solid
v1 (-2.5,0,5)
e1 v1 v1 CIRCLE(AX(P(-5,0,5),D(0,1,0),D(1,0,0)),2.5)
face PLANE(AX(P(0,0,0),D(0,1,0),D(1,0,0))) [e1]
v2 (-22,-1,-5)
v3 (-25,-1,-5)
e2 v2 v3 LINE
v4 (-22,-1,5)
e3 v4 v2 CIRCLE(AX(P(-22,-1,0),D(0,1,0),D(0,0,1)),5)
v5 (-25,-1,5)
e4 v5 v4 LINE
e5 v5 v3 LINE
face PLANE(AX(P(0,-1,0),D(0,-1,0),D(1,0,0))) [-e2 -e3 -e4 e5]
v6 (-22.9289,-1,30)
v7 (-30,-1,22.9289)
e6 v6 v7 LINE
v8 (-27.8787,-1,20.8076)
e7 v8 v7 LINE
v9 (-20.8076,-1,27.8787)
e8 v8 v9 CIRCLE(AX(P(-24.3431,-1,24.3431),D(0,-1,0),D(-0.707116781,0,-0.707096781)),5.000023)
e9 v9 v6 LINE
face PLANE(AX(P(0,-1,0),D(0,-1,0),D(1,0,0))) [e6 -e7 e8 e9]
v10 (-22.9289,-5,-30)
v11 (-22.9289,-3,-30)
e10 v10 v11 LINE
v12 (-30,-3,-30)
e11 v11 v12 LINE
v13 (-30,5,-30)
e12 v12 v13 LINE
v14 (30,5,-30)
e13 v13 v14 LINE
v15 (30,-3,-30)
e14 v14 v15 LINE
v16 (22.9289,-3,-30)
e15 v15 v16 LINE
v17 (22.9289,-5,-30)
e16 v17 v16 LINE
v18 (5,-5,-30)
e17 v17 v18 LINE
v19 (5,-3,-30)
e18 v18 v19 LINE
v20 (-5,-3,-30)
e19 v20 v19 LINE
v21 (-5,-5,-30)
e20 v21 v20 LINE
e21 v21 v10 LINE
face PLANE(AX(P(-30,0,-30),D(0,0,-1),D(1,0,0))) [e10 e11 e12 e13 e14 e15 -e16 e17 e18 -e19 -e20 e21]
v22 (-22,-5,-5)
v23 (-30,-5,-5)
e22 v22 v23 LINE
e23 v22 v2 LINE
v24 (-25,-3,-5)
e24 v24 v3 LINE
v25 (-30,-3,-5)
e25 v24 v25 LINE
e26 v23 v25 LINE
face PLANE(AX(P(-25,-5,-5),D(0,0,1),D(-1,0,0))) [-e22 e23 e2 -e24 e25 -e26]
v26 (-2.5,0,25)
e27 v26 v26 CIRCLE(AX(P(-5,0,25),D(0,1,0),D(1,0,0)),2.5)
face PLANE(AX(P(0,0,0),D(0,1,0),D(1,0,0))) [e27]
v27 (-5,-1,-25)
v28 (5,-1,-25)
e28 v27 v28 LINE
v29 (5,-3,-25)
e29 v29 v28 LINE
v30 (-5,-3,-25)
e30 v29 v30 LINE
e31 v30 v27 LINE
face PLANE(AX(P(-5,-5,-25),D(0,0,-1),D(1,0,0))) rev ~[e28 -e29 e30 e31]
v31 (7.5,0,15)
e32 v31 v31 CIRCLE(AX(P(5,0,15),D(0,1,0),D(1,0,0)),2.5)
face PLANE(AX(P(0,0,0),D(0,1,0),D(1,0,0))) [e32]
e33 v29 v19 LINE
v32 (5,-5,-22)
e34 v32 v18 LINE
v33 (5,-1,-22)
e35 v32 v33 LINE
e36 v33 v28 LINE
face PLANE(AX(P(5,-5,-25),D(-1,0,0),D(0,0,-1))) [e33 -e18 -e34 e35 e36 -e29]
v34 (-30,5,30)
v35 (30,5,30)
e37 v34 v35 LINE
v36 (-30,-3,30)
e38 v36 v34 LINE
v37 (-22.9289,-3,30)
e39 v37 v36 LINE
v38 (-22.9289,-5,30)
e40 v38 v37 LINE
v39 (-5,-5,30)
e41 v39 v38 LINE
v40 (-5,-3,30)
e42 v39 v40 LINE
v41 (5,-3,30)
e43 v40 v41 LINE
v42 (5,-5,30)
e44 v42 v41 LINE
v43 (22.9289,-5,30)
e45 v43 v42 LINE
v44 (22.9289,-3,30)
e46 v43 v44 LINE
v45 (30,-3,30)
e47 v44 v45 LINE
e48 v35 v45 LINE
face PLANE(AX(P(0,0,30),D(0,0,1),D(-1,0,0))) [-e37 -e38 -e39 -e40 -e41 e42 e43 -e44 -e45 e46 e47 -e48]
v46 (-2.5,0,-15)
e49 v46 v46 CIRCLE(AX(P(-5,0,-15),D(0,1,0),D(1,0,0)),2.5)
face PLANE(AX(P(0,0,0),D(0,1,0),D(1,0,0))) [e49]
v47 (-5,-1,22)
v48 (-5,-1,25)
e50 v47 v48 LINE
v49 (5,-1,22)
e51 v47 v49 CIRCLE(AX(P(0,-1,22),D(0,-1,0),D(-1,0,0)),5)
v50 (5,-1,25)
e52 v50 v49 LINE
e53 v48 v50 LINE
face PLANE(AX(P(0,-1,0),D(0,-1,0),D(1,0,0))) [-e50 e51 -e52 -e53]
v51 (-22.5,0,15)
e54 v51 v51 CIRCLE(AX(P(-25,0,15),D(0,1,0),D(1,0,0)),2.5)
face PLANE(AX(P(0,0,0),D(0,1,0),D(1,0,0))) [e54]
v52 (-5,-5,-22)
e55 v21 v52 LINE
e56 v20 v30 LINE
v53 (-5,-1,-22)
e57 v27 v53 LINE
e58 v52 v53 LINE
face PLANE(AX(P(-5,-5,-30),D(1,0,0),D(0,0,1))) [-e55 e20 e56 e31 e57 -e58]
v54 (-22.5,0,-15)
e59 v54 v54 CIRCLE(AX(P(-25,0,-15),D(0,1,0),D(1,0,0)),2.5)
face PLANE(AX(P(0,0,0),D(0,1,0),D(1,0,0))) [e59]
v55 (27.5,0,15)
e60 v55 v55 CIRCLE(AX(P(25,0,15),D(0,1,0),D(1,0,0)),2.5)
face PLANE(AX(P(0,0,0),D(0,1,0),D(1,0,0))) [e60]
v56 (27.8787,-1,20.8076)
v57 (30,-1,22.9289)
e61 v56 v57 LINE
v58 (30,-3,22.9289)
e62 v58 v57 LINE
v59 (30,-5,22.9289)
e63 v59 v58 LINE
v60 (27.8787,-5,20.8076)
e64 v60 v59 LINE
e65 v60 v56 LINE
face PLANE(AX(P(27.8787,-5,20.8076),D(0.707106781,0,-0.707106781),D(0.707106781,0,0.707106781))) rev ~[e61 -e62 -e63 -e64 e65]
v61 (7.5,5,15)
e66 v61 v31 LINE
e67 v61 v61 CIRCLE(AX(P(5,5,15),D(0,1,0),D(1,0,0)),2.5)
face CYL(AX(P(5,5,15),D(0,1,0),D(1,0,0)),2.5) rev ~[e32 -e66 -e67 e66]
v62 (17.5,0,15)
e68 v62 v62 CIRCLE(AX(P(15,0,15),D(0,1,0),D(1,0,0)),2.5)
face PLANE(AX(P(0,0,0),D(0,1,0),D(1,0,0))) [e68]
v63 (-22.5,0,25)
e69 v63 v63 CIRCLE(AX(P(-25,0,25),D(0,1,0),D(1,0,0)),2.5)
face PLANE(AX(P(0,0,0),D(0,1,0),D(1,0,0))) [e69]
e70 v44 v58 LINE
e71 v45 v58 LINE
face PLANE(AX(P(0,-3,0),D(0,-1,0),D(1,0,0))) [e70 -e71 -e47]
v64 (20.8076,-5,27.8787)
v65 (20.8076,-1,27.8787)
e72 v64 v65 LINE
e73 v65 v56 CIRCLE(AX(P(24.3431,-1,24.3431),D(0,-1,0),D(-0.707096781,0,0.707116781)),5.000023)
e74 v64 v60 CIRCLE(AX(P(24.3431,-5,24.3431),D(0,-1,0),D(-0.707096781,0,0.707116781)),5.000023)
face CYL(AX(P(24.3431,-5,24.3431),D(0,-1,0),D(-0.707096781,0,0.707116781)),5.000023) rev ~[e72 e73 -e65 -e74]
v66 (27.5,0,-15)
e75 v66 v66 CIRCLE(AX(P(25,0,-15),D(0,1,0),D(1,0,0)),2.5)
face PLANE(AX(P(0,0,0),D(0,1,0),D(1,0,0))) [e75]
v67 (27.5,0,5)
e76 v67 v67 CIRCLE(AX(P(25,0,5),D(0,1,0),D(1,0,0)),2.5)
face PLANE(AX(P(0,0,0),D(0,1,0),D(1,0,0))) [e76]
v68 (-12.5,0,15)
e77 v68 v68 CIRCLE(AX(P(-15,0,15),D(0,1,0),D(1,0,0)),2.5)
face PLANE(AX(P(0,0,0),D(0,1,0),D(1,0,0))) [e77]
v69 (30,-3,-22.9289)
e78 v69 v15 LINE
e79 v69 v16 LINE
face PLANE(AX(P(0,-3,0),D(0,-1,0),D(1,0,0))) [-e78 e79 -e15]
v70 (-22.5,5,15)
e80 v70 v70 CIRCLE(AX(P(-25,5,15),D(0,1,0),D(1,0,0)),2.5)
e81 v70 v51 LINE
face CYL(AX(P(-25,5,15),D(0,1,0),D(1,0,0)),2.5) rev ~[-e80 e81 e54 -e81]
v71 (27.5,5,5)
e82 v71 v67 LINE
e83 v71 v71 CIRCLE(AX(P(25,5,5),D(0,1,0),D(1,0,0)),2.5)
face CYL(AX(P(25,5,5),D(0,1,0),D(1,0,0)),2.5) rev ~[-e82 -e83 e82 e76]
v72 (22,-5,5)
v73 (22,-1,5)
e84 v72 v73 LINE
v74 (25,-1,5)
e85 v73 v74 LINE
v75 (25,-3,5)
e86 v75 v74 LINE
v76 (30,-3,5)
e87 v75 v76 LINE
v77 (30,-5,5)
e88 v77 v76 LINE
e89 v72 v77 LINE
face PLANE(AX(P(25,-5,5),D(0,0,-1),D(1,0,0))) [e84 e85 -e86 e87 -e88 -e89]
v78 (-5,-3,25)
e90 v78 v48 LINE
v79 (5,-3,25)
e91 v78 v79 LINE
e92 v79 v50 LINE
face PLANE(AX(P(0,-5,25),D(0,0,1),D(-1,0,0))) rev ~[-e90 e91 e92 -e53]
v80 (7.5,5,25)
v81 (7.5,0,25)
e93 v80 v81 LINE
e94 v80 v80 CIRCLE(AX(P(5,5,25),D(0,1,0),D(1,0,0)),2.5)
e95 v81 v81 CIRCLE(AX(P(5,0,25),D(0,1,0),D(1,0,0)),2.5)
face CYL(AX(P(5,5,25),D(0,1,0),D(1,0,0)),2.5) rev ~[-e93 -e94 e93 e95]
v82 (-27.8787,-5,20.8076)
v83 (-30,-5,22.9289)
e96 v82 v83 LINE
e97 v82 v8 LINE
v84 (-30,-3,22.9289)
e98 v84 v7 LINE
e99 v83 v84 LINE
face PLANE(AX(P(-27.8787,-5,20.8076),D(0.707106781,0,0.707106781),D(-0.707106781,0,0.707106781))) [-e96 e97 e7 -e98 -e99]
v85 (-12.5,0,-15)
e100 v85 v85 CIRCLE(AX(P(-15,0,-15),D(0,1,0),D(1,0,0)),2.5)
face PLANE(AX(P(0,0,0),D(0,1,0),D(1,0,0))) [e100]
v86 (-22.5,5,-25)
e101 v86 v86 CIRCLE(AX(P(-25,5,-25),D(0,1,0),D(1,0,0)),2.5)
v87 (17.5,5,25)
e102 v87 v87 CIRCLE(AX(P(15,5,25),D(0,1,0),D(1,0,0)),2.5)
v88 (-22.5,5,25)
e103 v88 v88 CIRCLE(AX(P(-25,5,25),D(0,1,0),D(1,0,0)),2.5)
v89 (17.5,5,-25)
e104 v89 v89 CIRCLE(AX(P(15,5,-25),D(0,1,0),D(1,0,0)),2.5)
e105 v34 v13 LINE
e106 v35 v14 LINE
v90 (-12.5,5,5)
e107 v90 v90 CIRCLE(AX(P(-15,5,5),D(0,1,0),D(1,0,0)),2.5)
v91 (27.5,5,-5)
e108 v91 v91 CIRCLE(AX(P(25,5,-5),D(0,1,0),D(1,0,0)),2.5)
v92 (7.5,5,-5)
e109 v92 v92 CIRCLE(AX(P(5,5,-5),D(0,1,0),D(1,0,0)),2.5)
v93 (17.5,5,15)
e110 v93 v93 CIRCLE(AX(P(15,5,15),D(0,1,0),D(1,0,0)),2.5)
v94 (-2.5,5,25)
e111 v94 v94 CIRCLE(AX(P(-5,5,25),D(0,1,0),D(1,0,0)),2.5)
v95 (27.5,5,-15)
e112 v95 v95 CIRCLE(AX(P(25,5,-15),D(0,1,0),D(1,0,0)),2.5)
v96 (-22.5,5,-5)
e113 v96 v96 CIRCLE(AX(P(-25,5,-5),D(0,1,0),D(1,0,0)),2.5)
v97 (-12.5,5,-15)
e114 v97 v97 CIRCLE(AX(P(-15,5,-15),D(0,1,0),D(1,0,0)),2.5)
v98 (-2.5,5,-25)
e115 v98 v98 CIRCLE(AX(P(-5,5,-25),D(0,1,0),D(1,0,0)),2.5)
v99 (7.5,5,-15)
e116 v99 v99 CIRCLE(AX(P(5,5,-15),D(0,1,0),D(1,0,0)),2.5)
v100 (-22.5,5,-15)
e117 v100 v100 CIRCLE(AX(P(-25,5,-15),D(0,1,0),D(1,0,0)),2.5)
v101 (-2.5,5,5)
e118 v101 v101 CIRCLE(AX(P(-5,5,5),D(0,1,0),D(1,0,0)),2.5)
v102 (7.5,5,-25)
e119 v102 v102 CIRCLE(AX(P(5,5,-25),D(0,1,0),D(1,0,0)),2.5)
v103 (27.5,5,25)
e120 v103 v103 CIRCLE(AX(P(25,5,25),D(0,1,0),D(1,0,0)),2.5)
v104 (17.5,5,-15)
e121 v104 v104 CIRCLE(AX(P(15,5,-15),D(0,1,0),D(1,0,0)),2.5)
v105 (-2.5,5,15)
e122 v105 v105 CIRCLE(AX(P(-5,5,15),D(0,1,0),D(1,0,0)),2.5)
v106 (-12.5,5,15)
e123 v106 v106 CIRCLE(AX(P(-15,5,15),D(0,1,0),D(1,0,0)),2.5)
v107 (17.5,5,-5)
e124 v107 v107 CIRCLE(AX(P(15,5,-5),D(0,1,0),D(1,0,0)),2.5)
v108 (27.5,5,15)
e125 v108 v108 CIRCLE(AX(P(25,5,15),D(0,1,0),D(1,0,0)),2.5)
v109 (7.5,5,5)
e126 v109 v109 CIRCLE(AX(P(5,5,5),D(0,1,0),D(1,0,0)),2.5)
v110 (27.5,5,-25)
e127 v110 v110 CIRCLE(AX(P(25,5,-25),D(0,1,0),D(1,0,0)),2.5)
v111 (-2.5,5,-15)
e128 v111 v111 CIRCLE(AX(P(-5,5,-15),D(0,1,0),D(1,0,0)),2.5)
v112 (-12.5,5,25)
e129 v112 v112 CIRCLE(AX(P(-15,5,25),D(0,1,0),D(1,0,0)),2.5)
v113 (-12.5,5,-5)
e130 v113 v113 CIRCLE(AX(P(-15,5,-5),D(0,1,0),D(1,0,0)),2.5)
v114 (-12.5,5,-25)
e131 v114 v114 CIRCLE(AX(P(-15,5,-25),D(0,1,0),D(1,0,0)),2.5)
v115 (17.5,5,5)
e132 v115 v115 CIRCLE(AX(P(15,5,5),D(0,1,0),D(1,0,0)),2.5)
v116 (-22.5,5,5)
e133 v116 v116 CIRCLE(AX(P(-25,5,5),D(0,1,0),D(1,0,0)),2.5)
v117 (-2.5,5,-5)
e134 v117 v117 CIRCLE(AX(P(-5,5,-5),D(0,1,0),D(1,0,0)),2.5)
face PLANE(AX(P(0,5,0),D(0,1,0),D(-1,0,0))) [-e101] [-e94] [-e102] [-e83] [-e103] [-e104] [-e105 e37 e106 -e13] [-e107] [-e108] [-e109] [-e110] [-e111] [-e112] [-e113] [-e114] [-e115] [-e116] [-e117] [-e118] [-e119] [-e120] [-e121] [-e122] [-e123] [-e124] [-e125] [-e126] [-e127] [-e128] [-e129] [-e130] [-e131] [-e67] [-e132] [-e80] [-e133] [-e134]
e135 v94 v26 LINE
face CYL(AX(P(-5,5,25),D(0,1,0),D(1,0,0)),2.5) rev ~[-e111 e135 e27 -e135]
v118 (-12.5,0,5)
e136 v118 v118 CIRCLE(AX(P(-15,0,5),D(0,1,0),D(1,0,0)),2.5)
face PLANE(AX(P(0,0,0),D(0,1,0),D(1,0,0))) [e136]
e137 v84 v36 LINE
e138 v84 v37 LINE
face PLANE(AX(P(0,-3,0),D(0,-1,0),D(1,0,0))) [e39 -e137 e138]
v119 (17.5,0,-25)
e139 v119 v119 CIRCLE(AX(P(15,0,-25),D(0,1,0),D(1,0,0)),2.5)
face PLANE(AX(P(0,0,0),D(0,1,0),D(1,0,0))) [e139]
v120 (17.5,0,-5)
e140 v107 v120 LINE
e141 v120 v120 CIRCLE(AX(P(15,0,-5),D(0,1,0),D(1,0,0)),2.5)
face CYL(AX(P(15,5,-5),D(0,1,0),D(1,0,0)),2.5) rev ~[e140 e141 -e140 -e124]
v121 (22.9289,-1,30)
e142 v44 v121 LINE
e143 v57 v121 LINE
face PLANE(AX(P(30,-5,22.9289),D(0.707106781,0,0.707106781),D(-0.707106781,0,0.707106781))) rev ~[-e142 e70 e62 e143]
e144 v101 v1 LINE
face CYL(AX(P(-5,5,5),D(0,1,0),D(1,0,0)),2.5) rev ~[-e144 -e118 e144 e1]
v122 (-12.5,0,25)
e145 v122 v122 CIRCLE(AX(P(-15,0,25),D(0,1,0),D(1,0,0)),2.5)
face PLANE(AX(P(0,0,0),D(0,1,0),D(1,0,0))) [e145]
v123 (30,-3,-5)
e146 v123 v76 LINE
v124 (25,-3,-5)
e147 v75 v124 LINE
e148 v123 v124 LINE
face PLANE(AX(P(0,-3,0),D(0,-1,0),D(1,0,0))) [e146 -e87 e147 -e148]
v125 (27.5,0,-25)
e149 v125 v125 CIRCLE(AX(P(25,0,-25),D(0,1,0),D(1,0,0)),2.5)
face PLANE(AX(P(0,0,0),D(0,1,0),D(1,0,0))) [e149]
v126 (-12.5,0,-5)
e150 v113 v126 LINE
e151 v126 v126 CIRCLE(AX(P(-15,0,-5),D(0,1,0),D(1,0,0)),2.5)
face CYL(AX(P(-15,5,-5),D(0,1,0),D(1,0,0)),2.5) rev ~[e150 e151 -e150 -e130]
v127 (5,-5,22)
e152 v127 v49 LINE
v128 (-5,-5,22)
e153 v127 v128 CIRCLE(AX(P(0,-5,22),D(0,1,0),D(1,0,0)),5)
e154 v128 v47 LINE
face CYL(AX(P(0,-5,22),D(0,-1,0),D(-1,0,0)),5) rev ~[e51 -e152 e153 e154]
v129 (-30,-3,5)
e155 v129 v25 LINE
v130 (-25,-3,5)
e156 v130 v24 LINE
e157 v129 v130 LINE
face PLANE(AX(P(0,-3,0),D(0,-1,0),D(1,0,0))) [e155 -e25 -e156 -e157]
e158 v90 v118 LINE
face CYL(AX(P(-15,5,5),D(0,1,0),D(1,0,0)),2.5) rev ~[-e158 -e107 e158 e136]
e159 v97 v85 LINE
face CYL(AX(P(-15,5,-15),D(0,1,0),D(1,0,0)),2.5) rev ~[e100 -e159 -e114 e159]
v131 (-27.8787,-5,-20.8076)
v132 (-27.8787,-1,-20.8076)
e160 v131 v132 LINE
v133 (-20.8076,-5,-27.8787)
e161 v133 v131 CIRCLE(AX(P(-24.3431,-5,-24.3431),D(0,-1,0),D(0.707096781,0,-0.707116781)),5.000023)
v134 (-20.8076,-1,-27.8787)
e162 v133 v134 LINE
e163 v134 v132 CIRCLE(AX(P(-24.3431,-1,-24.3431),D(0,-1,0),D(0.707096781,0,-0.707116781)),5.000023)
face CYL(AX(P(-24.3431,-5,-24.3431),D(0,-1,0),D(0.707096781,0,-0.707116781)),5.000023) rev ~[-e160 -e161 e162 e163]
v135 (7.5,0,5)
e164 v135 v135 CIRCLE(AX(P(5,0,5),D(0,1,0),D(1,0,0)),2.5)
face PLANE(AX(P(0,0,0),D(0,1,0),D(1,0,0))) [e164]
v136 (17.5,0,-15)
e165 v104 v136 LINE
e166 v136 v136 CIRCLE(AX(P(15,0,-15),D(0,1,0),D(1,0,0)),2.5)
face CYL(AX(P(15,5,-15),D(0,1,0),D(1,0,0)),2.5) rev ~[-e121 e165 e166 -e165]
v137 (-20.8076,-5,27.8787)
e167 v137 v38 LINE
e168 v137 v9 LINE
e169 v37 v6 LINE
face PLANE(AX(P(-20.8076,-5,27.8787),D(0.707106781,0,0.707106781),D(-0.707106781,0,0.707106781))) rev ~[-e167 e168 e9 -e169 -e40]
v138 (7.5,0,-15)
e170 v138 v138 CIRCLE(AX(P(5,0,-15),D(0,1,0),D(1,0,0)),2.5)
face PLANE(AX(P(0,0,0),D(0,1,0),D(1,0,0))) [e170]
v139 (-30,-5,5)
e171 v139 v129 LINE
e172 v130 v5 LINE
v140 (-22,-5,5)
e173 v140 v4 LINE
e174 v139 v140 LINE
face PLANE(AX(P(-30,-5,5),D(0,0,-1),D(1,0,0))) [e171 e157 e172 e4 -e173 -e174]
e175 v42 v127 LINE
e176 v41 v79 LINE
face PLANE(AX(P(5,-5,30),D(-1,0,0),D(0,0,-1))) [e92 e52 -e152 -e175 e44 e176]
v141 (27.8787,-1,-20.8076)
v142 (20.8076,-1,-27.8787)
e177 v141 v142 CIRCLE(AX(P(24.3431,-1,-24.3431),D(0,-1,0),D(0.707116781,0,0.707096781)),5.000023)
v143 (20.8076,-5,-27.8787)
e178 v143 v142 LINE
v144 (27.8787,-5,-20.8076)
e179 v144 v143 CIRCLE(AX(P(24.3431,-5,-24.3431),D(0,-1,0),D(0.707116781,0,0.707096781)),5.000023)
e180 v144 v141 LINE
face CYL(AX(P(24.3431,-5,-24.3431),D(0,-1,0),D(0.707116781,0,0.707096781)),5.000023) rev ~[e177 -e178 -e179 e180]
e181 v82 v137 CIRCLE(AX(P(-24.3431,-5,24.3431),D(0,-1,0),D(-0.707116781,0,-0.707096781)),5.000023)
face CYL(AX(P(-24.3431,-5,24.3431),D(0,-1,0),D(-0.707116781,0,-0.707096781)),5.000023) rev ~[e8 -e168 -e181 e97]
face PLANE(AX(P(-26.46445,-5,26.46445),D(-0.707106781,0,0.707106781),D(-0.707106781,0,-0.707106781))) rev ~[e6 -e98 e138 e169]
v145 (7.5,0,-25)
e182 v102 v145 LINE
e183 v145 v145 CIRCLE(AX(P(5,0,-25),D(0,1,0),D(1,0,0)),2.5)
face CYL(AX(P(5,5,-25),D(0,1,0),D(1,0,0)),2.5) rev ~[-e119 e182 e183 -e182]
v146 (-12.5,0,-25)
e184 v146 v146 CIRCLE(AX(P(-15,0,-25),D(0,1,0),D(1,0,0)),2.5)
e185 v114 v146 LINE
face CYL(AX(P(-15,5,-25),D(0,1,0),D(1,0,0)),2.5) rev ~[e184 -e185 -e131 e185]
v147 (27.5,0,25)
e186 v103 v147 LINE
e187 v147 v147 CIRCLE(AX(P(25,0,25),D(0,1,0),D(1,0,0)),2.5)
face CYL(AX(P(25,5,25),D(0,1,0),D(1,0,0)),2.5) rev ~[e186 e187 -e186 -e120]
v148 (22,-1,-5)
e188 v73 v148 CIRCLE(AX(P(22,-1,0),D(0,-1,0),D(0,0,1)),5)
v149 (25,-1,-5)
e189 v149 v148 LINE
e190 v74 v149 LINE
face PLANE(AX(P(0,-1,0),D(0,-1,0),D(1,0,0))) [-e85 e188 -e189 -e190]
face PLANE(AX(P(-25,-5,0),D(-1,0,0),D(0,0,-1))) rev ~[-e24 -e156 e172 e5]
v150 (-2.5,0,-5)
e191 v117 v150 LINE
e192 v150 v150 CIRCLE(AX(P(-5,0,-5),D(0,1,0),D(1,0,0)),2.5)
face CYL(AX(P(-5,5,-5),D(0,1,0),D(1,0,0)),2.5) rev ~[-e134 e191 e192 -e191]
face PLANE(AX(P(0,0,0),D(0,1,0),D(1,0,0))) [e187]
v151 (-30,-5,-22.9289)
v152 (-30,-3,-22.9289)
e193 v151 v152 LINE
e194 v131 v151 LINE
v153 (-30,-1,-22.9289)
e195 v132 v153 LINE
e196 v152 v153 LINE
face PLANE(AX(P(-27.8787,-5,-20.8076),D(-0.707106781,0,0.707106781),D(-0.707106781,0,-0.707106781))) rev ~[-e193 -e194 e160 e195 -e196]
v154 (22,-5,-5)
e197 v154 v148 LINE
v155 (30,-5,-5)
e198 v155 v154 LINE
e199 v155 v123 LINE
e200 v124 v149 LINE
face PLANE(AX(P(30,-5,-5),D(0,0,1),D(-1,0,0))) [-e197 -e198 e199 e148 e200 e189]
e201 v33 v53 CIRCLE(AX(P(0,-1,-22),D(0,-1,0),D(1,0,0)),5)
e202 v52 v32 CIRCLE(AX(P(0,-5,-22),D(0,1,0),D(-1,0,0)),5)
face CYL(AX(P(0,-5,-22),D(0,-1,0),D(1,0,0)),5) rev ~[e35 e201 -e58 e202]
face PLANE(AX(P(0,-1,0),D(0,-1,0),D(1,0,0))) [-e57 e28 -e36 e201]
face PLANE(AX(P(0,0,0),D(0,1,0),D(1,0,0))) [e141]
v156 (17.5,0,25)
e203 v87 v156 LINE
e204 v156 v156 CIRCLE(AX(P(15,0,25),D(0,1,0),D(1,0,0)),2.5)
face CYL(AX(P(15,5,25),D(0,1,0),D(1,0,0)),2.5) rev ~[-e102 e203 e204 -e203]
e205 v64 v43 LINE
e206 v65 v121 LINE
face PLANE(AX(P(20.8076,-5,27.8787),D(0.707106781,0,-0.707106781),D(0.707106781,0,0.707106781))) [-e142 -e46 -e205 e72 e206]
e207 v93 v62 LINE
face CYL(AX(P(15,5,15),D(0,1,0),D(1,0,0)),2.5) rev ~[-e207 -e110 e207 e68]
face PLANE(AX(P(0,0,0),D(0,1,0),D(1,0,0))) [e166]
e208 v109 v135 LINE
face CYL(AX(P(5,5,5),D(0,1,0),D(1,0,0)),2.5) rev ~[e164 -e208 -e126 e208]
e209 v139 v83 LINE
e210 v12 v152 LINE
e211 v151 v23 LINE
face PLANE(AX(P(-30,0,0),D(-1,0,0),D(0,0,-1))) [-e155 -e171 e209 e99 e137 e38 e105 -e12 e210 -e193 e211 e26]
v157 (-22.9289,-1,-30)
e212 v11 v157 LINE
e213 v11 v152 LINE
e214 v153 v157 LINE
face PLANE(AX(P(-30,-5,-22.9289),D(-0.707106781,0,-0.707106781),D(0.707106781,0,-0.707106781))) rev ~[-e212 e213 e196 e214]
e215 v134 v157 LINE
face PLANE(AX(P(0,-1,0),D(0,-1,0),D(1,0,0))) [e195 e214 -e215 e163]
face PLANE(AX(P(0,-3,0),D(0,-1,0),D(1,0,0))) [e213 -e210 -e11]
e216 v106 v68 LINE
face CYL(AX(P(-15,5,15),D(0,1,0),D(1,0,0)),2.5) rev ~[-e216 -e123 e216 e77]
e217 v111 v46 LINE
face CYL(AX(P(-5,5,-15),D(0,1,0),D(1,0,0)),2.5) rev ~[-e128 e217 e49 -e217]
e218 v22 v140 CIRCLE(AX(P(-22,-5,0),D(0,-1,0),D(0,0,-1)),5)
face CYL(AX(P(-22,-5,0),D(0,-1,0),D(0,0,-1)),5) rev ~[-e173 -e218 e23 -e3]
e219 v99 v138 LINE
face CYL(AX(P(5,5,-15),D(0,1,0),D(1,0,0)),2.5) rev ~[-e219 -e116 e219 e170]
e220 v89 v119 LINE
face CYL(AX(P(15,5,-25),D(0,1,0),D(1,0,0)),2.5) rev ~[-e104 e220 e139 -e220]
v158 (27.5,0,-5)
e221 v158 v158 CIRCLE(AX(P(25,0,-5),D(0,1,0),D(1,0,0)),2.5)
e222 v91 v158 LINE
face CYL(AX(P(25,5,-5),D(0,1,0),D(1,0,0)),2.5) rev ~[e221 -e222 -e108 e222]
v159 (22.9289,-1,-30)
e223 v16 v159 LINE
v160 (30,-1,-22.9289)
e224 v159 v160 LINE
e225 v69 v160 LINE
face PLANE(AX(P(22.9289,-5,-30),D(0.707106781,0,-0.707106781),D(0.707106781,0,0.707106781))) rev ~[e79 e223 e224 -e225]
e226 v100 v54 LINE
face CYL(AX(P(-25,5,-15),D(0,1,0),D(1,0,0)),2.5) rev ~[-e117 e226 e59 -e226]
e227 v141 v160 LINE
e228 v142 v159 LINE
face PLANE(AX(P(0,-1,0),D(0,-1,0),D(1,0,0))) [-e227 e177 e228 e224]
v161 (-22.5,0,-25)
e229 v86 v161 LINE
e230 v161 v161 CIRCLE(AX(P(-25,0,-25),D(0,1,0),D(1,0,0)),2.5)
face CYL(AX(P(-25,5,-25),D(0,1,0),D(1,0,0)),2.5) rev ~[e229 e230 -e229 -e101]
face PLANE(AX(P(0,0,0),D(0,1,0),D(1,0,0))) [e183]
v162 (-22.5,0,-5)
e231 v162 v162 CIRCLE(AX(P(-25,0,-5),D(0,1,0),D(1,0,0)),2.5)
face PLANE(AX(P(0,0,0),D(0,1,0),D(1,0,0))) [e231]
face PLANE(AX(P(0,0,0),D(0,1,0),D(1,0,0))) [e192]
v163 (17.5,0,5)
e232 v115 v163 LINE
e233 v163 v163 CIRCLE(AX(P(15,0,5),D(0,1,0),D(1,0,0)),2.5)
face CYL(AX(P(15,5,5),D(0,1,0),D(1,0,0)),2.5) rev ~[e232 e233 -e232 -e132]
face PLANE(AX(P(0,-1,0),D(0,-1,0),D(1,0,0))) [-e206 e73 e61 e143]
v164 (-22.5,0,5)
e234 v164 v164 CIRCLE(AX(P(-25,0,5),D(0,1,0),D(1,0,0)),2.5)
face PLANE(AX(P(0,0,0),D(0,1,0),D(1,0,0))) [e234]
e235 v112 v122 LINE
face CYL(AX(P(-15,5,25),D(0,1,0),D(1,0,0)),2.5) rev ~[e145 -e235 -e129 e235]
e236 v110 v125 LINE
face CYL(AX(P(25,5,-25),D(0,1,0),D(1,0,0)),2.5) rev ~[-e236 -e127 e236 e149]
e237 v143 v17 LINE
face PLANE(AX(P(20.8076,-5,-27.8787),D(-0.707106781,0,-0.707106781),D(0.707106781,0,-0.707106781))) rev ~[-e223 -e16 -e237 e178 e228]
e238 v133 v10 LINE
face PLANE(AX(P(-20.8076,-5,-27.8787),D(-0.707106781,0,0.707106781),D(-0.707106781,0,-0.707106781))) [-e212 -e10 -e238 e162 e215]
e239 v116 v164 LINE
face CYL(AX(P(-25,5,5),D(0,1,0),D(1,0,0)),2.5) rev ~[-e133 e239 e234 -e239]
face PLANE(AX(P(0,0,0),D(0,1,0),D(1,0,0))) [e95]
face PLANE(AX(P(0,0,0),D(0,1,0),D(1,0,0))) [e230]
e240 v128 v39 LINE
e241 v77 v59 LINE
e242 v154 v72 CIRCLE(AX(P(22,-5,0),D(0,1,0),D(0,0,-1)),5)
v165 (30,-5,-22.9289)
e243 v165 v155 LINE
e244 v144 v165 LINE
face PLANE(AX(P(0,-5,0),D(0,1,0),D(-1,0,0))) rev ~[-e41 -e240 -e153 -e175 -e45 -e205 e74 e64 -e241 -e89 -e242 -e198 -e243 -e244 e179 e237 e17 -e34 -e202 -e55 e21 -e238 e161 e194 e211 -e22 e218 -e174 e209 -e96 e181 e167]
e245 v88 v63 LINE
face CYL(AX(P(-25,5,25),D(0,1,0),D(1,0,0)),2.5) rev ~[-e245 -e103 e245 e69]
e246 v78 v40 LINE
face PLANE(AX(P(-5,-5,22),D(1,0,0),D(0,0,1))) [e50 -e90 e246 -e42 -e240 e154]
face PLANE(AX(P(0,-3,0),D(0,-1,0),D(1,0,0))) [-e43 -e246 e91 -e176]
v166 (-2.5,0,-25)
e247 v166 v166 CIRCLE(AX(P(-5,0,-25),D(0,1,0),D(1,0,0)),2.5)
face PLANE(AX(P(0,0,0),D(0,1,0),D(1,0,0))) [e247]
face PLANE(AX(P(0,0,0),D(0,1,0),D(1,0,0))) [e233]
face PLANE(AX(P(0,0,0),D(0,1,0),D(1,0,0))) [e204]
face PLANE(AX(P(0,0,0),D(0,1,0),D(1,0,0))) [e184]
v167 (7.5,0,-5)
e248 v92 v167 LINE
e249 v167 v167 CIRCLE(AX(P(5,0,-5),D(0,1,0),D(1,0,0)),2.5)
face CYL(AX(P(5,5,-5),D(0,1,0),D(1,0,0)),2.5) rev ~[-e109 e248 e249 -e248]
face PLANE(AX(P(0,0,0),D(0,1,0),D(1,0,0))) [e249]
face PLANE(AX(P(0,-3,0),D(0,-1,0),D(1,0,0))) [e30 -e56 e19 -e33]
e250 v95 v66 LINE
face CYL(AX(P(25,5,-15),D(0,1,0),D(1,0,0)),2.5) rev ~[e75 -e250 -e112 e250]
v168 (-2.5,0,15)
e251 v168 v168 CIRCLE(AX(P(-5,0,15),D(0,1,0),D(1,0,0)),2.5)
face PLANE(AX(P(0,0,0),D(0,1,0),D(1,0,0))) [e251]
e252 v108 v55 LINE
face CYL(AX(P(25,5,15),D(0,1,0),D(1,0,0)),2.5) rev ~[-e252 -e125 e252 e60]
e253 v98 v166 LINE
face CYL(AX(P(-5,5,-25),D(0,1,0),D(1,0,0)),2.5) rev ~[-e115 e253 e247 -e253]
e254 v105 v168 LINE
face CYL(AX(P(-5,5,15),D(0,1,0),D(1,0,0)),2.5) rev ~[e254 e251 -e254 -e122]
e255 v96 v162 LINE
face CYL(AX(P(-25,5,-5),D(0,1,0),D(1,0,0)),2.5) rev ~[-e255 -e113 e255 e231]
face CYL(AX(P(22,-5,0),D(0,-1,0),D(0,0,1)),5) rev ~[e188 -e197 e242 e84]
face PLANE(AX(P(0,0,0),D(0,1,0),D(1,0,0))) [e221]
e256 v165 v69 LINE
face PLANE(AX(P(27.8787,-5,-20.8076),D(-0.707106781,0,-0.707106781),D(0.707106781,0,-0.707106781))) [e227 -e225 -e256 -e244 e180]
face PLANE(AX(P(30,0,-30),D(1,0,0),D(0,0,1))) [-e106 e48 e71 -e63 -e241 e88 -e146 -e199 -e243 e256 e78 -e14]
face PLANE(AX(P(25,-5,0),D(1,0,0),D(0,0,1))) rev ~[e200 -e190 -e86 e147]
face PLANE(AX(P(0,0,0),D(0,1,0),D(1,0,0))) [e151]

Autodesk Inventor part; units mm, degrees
sketch "Sketch1" plane through (0, 0, 0) normal (0, 1, 0) x (-1, 0, 0)
  line L0 (30, -30) -> (-30, -30)
  line L1 (-30, -30) -> (-30, 30)
  line L2 (-30, 30) -> (30, 30)
  line L3 (30, 30) -> (30, -30)
  line L4 (0, -42) -> (0, 42) projected
  line L5 (-42, 0) -> (42, 0) projected
  point P0 (0, 0)
  point P1 (0, -30)
  point P2 (30, 0)
  dimension "d0" = 60
  dimension "d1" = 60
extrude "Extrusion1" add sketch "Sketch1" along normal mid plane 10
sketch "Sketch2" plane through (0, -5, 0) normal (0, -1, 0) x (1, 0, 0)
  line L0 (-30, -30) -> (-30, 30) projected
  line L1 (-30, 5) -> (-22, 5)
  line L2 (-22, 5) -> (-22, -5)
  line L3 (-22, -5) -> (-30, -5)
  line L4 (-30, -5) -> (-30, 5)
  arc A0 (-22, -5) -> (-22, 5) centre (-22, 0) ccw
  line L5 (-53.2, 0) -> (53.2, 0) projected
  line L6 (-25, 5) -> (-25, -5)
  line L7 (0, -53.2) -> (0, 53.2) projected
  line L8 (-5, -30) -> (-5, -22)
  arc A1 (5, -22) -> (-5, -22) centre (0, -22) ccw
  line L9 (5, -22) -> (5, -30)
  line L10 (5, -30) -> (-5, -30)
  line L11 (-5, -25) -> (5, -25)
  line L12 (-5, -22) -> (5, -22)
  line L13 (30, -5) -> (22, -5)
  arc A2 (22, 5) -> (22, -5) centre (22, 0) ccw
  line L14 (22, 5) -> (30, 5)
  line L15 (30, 5) -> (30, -5)
  line L16 (25, -5) -> (25, 5)
  line L17 (22, -5) -> (22, 5)
  line L18 (5, 30) -> (5, 22)
  arc A3 (-5, 22) -> (5, 22) centre (0, 22) ccw
  line L19 (-5, 22) -> (-5, 30)
  line L20 (-5, 30) -> (5, 30)
  line L21 (5, 25) -> (-5, 25)
  line L22 (5, 22) -> (-5, 22)
  line L23 (30, -30) -> (-30, -30) projected
  line L24 (30, 30) -> (30, -30) projected
  line L25 (30, -30) -> (24.3431, -24.3431)
  line L26 (30, -30) -> (38, -30) construction
  line L27 (20.8076, -27.8787) -> (22.9289, -30)
  line L28 (27.8787, -20.8076) -> (30, -22.9289)
  line L29 (24.3431, -24.3431) -> (27.8787, -20.8076)
  line L30 (24.3431, -24.3431) -> (20.8076, -27.8787)
  line L31 (22.9289, -30) -> (30, -22.9289)
  line L32 (22.9289, -30) -> (30, -30)
  line L33 (30, -22.9289) -> (30, -30)
  arc A4 (27.8787, -20.8076) -> (20.8076, -27.8787) centre (24.3431, -24.3431) ccw
  line L34 (27.8787, 20.8076) -> (30, 22.9289)
  line L35 (24.3431, 24.3431) -> (27.8787, 20.8076)
  arc A5 (20.8076, 27.8787) -> (27.8787, 20.8076) centre (24.3431, 24.3431) ccw
  line L36 (24.3431, 24.3431) -> (20.8076, 27.8787)
  line L37 (20.8076, 27.8787) -> (22.9289, 30)
  line L38 (22.9289, 30) -> (30, 30)
  line L39 (30, 30) -> (24.3431, 24.3431)
  line L40 (30, 22.9289) -> (22.9289, 30)
  line L41 (30, 22.9289) -> (30, 30)
  line L42 (-20.8076, 27.8787) -> (-22.9289, 30)
  line L43 (-24.3431, 24.3431) -> (-20.8076, 27.8787)
  arc A6 (-27.8787, 20.8076) -> (-20.8076, 27.8787) centre (-24.3431, 24.3431) ccw
  line L44 (-24.3431, 24.3431) -> (-27.8787, 20.8076)
  line L45 (-27.8787, 20.8076) -> (-30, 22.9289)
  line L46 (-30, 22.9289) -> (-30, 30)
  line L47 (-30, 30) -> (-24.3431, 24.3431)
  line L48 (-22.9289, 30) -> (-30, 22.9289)
  line L49 (-22.9289, 30) -> (-30, 30)
  line L50 (-27.8787, -20.8076) -> (-30, -22.9289)
  line L51 (-24.3431, -24.3431) -> (-27.8787, -20.8076)
  arc A7 (-20.8076, -27.8787) -> (-27.8787, -20.8076) centre (-24.3431, -24.3431) ccw
  line L52 (-24.3431, -24.3431) -> (-20.8076, -27.8787)
  line L53 (-20.8076, -27.8787) -> (-22.9289, -30)
  line L54 (-22.9289, -30) -> (-30, -30)
  line L55 (-30, -30) -> (-24.3431, -24.3431)
  line L56 (-30, -22.9289) -> (-22.9289, -30)
  line L57 (-30, -22.9289) -> (-30, -30)
  point P0 (0, 0)
  point P1 (-30, 0)
  point P2 (0, -30)
  point P3 (30, 0)
  point P4 (0, 30)
  point P5 (-30, -5)
  point P6 (20.8076, -20.8076)
  point P7 (20.8076, 20.8076)
  point P8 (-20.8076, 20.8076)
  point P9 (-20.8076, -20.8076)
  dimension "d4" = 10
  dimension "d5" = 8
  dimension "d6" = 3
  dimension "d9" = 360
  dimension "d33" = 135
  dimension "d34" = 5
  dimension "d35" = 5
  dimension "d37" = 8
  dimension "d38" = 3
  dimension "d39" = 7.0711
  dimension "d45" = 5
  dimension "d48" = 360
extrude "Extrusion2" cut sketch "Sketch2" against normal blind 2 contours L0 L47 L48 | L40 L39 L24 | L55 L56 L23 | L0 L56 L55 | L0 L5 L6 L3 | L8 L11 L7 L10 | L0 L1 L6 L5 | L7 L11 L9 L10 | L31 L25 L23 | L49 L48 L47 | L25 L31 L24 | L13 L16 L5 L15 | L16 L14 L15 L5 | L21 L19 L20 L7 | L7 L20 L18 L21 | L39 L40 L38
extrude "Extrusion3" cut sketch "Sketch2" against normal blind 4 contours L48 L47 L44 L45 | A3 L22 L7 | L7 L22 A3 | L34 L35 L39 L40 | L50 L51 L55 L56 | L56 L55 L52 L53 | A7 L52 L51 | L6 L5 L2 L3 | L8 L12 L7 L11 | L6 L1 L2 L5 | L2 L5 A0 | A1 L7 L12 | L7 L12 L9 L11 | L2 A0 L5 | A1 L12 L7 | L27 L30 L25 L31 | L44 L43 A6 | L48 L42 L43 L47 | A4 L29 L30 | L25 L29 L28 L31 | A2 L17 L5 | L5 L17 A2 | L17 L14 L16 L5 | L5 L16 L13 L17 | L22 L19 L21 L7 | L7 L21 L18 L22 | A5 L36 L35 | L39 L36 L37 L40
sketch "Sketch3" plane through (0, 5, 0) normal (0, 1, 0) x (1, 0, 0)
  circle A0 centre (-25, 25) radius 2.5
  line L0 (30, 30) -> (-30, 30) projected
  line L1 (-30, 30) -> (-30, -30) projected
  line L2 (-42, 0) -> (42, 0) projected
  line L3 (0, 42) -> (0, -42) projected
  circle A1 centre (-25, 15) radius 2.5
  circle A2 centre (-25, 5) radius 2.5
  circle A3 centre (-25, -5) radius 2.5
  circle A4 centre (-25, -15) radius 2.5
  circle A5 centre (-15, 25) radius 2.5
  circle A6 centre (-15, 15) radius 2.5
  circle A7 centre (-15, 5) radius 2.5
  circle A8 centre (-15, -5) radius 2.5
  circle A9 centre (-15, -15) radius 2.5
  circle A10 centre (-5, 25) radius 2.5
  circle A11 centre (-5, 15) radius 2.5
  circle A12 centre (-5, 5) radius 2.5
  circle A13 centre (-5, -5) radius 2.5
  circle A14 centre (-5, -15) radius 2.5
  circle A15 centre (5, 25) radius 2.5
  circle A16 centre (5, 15) radius 2.5
  circle A17 centre (5, 5) radius 2.5
  circle A18 centre (5, -5) radius 2.5
  circle A19 centre (5, -15) radius 2.5
  circle A20 centre (15, 25) radius 2.5
  circle A21 centre (15, 15) radius 2.5
  circle A22 centre (15, 5) radius 2.5
  circle A23 centre (15, -5) radius 2.5
  circle A24 centre (15, -15) radius 2.5
  circle A25 centre (-25, -25) radius 2.5
  circle A26 centre (-15, -25) radius 2.5
  circle A27 centre (-5, -25) radius 2.5
  circle A28 centre (5, -25) radius 2.5
  circle A29 centre (15, -25) radius 2.5
  circle A30 centre (25, 25) radius 2.5
  circle A31 centre (25, 15) radius 2.5
  circle A32 centre (25, 5) radius 2.5
  circle A33 centre (25, -5) radius 2.5
  circle A34 centre (25, -15) radius 2.5
  circle A35 centre (25, -25) radius 2.5
  point P0 (0, 0)
  dimension "d15" = 5
  dimension "d16" = 5
  dimension "d17" = 5
  dimension "d20" = 10
  dimension "d23" = 10
extrude "Extrusion4" cut sketch "Sketch3" against normal blind 5 contours A0 | A1 | A2 | A3 | A4 | A5 | A6 | A7 | A8 | A9 | A10 | A11 | A12 | A13 | A14 | A15 | A16 | A17 | A18 | A19 | A20 | A21 | A22 | A23 | A24 | A25 | A26 | A27 | A28 | A29 | A30 | A31 | A32 | A33 | A34 | A35
properties part number "Tile"
